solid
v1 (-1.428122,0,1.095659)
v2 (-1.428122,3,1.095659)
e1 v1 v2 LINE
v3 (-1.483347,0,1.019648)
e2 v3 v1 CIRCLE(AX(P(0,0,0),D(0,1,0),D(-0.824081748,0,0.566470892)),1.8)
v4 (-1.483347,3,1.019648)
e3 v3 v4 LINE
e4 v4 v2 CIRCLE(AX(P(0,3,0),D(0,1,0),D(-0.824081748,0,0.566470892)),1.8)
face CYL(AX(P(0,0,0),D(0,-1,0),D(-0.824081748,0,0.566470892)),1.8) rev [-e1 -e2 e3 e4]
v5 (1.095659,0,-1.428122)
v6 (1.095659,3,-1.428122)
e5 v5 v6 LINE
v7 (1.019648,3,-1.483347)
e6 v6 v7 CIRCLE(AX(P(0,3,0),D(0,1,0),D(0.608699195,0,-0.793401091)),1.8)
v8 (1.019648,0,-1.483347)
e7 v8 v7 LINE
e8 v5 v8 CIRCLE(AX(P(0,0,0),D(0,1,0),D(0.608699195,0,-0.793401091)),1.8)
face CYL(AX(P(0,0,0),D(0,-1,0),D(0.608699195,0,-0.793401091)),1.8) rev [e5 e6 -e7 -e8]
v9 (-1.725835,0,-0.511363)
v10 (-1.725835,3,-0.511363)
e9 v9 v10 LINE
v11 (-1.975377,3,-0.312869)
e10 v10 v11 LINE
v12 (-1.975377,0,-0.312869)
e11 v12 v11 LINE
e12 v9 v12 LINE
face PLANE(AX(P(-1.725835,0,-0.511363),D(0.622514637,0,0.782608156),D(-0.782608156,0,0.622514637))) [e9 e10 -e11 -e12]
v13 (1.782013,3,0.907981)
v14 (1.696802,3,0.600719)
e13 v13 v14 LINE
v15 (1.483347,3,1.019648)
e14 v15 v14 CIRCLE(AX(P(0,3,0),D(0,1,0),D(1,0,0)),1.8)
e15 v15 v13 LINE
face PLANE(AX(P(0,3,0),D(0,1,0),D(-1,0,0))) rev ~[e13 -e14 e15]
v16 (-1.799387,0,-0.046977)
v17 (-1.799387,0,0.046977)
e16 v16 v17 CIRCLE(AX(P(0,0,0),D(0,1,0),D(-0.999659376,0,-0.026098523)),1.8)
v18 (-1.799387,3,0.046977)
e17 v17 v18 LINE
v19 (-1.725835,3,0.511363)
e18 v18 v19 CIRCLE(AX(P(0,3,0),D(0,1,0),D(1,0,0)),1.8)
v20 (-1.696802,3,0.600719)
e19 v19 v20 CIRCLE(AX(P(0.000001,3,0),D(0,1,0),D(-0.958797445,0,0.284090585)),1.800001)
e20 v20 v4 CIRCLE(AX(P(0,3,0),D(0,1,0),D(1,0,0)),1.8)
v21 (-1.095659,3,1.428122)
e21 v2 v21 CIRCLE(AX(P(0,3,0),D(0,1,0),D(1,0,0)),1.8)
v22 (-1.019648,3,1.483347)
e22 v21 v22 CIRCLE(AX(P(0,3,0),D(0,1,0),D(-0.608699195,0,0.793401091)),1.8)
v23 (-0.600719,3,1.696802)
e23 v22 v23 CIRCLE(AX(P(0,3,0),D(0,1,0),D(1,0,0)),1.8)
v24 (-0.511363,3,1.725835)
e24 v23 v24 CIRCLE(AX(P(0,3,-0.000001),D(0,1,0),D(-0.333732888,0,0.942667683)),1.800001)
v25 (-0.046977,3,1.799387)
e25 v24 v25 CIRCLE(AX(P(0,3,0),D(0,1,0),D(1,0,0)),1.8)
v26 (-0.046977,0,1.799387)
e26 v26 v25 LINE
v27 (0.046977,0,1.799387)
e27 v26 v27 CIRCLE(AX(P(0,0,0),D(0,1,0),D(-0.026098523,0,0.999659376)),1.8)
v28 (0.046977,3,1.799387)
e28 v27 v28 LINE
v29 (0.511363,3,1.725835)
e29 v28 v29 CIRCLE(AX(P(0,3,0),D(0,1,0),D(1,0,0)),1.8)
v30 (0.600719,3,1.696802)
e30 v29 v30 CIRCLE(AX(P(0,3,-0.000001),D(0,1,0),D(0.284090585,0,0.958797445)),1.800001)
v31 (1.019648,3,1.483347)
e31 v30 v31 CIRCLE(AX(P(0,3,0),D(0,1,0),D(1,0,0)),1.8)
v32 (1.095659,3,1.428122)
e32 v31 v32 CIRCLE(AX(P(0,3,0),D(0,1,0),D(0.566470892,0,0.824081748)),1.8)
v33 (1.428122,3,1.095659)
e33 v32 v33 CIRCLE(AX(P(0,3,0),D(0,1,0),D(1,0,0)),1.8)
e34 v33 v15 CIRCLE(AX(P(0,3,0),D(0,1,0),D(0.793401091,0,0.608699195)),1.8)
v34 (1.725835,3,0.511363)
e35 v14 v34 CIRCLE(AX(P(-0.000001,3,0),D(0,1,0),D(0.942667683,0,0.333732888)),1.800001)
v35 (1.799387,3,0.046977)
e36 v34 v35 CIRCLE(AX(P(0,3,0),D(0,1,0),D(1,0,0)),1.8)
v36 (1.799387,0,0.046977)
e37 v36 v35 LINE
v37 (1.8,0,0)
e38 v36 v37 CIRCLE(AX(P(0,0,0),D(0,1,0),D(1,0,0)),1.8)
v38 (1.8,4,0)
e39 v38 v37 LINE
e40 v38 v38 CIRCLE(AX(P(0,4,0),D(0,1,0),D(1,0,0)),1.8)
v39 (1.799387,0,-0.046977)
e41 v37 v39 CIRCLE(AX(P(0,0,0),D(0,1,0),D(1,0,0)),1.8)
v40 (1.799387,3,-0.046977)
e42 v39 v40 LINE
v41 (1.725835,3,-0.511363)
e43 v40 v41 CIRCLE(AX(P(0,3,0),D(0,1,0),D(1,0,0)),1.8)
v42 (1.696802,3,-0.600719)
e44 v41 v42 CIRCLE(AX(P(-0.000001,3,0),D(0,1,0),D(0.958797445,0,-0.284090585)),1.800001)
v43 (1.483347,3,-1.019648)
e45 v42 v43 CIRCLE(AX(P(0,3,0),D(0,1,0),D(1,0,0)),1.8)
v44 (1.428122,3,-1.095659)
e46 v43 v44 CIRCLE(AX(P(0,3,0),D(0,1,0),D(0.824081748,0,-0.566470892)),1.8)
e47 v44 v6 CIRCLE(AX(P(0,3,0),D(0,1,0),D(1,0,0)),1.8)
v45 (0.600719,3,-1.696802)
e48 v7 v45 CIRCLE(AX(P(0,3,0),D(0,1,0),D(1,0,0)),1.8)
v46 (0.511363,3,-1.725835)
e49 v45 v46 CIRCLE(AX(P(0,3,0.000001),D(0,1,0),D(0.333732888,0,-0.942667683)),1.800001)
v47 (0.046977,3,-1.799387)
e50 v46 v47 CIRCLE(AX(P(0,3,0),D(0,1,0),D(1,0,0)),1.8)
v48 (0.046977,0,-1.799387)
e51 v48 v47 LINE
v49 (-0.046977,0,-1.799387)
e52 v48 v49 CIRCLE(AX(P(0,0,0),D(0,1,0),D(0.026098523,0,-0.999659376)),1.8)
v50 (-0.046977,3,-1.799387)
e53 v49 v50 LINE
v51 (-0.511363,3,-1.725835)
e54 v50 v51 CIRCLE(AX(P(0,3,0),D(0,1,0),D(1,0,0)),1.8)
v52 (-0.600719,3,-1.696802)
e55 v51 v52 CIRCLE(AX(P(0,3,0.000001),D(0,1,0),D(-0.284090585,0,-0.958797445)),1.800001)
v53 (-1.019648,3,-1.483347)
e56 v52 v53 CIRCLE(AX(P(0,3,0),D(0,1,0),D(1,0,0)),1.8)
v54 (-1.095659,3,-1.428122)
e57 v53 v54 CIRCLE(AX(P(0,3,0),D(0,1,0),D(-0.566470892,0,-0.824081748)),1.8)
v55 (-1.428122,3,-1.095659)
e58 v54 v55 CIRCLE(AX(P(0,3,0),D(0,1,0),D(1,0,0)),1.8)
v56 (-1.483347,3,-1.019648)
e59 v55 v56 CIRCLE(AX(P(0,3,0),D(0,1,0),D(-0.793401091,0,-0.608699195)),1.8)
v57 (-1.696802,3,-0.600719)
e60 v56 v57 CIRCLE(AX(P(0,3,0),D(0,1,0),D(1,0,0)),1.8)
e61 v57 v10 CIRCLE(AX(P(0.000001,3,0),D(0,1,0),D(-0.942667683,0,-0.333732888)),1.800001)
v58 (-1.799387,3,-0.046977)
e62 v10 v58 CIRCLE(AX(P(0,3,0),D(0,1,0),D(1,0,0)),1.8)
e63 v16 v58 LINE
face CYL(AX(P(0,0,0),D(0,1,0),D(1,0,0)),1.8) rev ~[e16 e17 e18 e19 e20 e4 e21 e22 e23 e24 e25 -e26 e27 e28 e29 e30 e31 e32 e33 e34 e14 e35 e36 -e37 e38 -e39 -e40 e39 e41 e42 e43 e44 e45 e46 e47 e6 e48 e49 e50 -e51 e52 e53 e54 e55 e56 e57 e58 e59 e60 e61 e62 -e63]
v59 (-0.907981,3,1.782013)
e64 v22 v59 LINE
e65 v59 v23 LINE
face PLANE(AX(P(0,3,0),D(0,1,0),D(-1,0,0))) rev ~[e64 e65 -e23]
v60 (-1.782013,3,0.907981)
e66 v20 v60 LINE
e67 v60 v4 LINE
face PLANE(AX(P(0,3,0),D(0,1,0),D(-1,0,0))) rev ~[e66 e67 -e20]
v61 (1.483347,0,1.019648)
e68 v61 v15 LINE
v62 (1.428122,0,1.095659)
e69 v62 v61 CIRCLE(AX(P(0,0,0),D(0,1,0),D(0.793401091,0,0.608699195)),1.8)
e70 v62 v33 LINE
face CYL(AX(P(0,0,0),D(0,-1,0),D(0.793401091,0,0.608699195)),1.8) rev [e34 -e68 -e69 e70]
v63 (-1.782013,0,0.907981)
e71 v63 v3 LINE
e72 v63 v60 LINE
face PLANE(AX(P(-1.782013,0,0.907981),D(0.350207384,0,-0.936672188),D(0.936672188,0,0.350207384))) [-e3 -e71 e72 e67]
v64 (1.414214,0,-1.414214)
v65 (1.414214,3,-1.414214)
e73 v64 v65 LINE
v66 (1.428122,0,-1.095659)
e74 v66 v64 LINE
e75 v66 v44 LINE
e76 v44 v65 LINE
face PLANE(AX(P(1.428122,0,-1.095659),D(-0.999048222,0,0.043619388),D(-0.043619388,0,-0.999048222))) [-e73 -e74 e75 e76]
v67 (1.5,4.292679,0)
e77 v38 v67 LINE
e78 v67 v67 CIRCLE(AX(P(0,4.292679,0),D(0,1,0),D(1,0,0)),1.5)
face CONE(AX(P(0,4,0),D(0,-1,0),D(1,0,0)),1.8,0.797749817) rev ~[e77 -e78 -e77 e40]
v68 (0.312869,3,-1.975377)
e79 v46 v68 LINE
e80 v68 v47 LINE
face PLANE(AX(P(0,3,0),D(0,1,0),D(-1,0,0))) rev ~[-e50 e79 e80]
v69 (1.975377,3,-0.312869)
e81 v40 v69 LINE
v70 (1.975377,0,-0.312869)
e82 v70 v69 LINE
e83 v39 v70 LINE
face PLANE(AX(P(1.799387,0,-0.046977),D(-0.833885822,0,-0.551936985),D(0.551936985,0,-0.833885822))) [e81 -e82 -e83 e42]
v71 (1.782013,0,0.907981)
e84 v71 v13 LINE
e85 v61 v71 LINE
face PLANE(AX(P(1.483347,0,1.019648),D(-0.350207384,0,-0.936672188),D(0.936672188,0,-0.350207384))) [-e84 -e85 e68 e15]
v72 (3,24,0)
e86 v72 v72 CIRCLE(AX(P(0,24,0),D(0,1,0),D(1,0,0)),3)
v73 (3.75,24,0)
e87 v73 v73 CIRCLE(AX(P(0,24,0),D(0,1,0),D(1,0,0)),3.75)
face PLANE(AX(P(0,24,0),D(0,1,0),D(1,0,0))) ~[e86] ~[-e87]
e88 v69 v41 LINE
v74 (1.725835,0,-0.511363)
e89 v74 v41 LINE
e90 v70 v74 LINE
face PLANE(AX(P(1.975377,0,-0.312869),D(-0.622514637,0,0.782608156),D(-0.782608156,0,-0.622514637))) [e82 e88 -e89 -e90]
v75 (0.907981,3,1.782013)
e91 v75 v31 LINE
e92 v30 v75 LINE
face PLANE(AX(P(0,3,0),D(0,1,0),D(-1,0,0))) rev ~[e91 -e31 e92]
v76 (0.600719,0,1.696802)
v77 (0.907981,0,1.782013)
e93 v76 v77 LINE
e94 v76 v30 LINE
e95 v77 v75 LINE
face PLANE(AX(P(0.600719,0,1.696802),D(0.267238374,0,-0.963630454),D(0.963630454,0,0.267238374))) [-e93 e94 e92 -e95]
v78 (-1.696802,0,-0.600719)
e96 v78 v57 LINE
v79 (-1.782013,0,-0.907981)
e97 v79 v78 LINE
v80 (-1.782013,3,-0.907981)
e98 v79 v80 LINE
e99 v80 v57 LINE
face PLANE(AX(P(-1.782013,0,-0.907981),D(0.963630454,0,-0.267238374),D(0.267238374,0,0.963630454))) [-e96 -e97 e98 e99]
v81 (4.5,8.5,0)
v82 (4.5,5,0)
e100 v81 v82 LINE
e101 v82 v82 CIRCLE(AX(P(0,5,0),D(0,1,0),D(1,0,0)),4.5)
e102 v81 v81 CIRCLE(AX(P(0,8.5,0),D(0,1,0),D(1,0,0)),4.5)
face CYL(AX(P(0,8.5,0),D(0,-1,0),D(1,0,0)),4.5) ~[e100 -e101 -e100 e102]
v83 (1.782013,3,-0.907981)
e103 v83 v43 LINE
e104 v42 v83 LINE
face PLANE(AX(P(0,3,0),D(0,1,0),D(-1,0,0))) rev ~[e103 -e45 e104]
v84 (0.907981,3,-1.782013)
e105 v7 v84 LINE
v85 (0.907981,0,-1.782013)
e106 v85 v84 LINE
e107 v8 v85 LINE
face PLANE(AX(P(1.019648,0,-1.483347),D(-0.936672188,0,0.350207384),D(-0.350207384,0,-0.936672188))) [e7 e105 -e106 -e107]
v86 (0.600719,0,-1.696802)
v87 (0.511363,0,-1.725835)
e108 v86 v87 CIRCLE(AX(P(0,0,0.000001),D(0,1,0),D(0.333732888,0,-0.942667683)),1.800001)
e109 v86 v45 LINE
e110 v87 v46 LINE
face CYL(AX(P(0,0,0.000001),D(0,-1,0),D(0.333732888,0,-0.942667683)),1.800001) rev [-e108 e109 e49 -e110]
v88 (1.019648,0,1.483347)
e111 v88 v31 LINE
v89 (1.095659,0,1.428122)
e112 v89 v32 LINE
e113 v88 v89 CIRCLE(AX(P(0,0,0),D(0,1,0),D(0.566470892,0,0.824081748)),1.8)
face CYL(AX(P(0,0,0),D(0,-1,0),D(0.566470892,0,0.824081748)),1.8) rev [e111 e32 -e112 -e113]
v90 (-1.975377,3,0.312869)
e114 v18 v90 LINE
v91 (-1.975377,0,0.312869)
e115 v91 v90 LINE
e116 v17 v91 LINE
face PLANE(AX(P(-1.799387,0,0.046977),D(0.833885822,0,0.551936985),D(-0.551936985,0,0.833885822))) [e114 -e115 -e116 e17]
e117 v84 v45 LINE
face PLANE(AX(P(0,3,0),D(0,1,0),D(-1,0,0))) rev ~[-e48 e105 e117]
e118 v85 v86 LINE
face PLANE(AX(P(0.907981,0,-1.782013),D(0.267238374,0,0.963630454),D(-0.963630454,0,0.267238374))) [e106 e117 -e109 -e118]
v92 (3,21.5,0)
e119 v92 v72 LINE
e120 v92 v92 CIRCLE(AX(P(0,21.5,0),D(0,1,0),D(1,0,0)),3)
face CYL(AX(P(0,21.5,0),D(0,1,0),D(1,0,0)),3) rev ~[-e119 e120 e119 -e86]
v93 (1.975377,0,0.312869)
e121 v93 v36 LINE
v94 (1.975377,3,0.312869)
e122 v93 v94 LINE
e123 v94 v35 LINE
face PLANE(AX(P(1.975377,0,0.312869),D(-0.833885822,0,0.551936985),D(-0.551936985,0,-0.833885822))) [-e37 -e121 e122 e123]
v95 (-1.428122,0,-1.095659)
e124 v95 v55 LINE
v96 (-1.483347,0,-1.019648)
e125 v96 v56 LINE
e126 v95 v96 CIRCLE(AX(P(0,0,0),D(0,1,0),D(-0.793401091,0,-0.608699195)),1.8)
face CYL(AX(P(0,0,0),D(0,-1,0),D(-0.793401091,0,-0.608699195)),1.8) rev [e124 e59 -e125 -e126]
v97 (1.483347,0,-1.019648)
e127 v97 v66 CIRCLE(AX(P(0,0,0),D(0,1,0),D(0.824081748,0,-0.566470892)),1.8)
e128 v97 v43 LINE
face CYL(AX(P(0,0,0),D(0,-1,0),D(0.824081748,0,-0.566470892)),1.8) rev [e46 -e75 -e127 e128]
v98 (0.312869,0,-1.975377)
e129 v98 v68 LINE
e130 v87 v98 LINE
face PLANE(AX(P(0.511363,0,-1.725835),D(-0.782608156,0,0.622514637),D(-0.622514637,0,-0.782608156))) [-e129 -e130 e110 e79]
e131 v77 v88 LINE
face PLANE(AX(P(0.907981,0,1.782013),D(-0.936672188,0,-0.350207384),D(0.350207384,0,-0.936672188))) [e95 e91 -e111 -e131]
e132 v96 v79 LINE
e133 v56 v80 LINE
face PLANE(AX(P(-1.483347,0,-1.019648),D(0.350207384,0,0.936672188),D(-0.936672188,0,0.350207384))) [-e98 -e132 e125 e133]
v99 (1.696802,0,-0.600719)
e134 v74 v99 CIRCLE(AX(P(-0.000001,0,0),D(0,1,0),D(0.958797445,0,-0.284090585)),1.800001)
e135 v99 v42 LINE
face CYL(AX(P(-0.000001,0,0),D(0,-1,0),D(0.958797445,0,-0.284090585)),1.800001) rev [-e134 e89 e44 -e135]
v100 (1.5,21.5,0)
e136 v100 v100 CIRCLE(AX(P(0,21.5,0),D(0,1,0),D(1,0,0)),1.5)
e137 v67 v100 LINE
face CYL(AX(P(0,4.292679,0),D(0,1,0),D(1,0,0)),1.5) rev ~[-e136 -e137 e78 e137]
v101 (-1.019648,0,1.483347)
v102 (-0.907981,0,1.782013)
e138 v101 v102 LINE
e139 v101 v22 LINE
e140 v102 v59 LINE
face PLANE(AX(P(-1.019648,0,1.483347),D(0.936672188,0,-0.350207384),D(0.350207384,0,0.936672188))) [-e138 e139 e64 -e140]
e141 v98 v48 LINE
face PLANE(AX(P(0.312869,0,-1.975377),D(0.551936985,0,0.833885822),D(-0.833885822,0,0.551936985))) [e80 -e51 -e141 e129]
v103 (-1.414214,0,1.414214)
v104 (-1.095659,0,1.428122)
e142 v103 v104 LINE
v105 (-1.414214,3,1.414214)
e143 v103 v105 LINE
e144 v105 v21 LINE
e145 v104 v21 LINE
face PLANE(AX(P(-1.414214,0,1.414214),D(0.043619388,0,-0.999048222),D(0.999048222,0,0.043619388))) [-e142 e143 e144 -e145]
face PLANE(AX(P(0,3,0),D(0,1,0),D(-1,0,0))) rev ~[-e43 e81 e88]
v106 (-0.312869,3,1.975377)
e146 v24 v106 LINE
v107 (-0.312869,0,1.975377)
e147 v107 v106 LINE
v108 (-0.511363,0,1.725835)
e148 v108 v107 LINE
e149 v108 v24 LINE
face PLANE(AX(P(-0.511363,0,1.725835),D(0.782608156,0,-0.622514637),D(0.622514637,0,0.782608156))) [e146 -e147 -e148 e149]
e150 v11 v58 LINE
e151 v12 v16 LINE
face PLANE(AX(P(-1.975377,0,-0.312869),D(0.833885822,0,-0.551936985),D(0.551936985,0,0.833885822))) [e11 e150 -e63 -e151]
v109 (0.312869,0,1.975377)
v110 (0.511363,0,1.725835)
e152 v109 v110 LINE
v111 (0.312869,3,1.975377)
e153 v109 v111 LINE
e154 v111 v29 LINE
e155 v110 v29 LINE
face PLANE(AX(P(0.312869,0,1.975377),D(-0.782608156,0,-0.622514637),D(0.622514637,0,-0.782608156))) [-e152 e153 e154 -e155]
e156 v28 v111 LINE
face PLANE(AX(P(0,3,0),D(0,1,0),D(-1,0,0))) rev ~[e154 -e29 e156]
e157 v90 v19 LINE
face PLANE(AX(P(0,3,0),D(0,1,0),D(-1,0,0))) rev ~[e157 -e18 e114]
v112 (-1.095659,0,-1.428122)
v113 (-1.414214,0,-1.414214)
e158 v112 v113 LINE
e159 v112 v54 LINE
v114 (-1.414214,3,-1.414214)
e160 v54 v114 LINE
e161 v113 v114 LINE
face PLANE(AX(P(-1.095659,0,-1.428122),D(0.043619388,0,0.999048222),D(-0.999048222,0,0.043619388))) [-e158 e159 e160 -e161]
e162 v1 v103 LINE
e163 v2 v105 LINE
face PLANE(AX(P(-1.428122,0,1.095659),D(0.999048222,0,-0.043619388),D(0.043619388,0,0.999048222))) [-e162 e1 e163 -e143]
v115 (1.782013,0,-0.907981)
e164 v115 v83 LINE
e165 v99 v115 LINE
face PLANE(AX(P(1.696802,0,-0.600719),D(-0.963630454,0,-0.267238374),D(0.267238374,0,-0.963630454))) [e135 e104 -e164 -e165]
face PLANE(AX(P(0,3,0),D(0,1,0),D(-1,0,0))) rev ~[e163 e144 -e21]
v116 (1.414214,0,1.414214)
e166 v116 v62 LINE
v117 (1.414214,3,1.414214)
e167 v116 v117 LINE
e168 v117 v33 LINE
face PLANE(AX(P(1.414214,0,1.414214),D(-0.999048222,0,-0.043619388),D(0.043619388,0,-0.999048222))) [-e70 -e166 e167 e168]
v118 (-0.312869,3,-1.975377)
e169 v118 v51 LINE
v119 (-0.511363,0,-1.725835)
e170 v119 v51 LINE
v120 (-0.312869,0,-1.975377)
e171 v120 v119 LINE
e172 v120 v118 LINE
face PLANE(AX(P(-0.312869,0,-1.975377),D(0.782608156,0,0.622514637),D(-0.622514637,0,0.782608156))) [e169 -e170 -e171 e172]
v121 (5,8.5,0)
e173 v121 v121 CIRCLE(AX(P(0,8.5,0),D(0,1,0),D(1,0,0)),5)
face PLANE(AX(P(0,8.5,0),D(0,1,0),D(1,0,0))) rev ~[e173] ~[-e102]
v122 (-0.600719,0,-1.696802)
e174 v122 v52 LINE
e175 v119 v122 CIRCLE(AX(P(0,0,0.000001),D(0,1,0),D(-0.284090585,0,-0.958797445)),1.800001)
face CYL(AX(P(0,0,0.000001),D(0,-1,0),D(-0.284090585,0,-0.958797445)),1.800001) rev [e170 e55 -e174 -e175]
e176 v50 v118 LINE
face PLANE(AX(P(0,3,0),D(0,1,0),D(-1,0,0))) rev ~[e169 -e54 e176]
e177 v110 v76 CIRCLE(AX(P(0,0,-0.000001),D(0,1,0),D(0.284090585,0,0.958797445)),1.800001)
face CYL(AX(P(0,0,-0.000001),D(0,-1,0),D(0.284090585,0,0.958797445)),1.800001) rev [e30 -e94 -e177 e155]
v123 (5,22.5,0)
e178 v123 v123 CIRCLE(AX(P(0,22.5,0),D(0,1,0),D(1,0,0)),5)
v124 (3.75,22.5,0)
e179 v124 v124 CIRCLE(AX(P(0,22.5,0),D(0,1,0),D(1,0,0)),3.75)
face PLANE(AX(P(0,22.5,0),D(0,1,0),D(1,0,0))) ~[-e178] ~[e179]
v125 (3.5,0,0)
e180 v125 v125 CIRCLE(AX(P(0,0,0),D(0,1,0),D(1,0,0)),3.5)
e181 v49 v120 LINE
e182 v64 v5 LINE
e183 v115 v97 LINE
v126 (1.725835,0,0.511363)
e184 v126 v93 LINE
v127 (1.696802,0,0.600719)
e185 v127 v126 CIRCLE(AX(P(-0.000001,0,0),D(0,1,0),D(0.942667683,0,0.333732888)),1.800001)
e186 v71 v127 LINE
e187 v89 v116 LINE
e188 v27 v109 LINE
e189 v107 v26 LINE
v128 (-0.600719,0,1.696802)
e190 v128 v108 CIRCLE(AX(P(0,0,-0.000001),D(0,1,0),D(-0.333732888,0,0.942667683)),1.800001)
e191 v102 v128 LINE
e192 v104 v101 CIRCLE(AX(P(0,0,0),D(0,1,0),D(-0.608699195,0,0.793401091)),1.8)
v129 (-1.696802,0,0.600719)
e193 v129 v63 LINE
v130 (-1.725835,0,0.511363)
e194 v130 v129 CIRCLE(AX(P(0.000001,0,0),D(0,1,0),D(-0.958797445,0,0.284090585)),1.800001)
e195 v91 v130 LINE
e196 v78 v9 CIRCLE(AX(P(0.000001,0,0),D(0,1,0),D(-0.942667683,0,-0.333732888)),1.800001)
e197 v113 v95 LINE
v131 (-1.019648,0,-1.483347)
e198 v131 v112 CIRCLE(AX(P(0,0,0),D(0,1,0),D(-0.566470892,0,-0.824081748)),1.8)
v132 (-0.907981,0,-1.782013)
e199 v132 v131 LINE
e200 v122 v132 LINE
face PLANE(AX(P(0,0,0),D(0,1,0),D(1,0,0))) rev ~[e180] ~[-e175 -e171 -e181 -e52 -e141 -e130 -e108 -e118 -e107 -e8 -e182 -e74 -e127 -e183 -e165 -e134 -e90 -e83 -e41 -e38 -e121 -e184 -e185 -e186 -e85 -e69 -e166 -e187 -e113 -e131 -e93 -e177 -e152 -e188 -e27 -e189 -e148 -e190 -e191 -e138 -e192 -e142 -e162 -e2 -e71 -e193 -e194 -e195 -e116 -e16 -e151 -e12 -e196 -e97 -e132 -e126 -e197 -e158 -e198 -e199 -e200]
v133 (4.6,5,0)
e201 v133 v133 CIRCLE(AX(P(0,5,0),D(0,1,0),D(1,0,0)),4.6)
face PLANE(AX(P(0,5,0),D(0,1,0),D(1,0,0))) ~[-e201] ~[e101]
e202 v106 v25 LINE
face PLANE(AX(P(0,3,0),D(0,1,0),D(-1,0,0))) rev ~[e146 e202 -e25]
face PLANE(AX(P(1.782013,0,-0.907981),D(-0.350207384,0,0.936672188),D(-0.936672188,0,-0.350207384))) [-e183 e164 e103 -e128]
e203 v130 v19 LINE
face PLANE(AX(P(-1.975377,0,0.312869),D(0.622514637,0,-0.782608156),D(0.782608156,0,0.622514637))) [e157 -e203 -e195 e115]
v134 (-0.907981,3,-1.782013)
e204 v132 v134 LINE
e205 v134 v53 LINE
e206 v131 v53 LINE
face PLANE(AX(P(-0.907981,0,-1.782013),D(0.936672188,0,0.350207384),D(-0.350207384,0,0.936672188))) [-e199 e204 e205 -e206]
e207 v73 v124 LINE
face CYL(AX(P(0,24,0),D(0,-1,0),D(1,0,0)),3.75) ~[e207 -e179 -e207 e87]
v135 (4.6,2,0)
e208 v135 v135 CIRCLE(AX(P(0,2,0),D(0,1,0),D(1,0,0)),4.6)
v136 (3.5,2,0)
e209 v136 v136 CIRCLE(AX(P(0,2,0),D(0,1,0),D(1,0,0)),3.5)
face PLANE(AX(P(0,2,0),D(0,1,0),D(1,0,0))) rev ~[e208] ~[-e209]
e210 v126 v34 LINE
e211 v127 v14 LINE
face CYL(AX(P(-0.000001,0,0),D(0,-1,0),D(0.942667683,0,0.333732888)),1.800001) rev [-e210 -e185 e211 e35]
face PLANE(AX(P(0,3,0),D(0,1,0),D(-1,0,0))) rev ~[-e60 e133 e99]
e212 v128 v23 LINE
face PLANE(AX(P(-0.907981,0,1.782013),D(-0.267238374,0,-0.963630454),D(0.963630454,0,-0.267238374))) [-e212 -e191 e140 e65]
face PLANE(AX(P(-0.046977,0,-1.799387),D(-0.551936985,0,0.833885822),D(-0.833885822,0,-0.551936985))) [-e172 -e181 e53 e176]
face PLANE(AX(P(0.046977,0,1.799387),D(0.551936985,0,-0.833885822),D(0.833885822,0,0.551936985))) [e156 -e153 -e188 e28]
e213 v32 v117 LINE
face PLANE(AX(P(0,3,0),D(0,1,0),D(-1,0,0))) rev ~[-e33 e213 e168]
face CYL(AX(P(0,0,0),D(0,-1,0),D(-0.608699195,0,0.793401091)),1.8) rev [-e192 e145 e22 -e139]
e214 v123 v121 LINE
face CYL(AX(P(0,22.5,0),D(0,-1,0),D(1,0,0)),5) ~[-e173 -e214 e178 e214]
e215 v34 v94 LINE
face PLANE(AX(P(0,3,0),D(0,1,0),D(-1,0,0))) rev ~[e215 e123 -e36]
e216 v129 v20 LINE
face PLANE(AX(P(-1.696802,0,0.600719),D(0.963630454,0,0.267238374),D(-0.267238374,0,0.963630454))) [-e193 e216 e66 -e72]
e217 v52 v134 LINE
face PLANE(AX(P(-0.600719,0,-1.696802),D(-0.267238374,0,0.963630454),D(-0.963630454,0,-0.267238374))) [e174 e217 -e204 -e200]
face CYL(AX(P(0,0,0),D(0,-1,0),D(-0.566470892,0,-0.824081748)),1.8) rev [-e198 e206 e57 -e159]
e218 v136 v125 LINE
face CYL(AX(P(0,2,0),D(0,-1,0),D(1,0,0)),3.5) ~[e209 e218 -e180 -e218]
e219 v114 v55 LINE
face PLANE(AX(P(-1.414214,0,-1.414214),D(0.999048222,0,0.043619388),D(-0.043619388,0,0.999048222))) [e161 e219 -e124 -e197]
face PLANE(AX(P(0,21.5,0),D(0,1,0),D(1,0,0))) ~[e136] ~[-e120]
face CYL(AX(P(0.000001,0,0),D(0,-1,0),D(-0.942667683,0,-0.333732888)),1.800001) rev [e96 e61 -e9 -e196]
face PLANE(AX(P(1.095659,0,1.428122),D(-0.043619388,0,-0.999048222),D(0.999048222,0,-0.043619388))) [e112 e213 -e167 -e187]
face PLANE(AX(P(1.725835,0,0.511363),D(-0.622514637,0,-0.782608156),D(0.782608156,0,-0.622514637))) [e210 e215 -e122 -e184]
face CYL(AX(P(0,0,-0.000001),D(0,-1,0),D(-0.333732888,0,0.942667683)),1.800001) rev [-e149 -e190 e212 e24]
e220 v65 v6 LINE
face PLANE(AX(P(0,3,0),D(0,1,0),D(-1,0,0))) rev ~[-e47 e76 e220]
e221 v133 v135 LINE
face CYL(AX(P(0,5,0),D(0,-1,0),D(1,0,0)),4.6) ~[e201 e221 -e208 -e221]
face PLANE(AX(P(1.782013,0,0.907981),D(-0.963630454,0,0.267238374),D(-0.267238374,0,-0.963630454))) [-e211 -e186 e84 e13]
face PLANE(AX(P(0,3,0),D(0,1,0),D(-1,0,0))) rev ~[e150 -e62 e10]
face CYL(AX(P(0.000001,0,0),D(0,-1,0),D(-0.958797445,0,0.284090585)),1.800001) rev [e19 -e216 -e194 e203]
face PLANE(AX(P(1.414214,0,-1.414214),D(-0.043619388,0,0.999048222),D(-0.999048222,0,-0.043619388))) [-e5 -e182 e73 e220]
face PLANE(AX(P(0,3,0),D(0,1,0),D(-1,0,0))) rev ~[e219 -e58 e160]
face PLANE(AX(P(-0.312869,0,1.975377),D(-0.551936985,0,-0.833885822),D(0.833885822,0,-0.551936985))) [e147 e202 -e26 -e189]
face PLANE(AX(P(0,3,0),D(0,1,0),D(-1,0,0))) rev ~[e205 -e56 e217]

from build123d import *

# Parameters (mm, degrees)
CUT_EXTRUDE_1_DEPTH = 3


with BuildPart() as part:
    # Эскиз1 → Повернуть1 (revolve)
    with BuildSketch(Plane.XY):
        Polygon((3.5, 0), (1.8, 0), (1.8, 4), (1.5, 4.292679061), (1.5, 21.5), (3, 21.5), (3, 24), (3.75, 24), (3.75, 22.5), (5, 22.5), (5, 8.5), (4.5, 8.5), (4.5, 5), (4.6, 5), (4.6, 2), (3.5, 2), align=None)
    revolve(axis=Axis((0, 0, 0), (0, 1, 0)))

    # Эскиз3 → Вырез-Вытянуть1 (cut)
    with BuildSketch(Plane.XZ):
        with BuildLine():
            Line((0.046977339, 1.799386876), (0.31286893, 1.975376681))
            Line((0.31286893, 1.975376681), (0.51136302, 1.72583541))
            ThreePointArc((0.51136302, 1.72583541), (0.55623059, 1.711901729), (0.600719228, 1.696801818))
            Line((0.600719228, 1.696801818), (0.907980999, 1.782013048))
            Line((0.907980999, 1.782013048), (1.019647604, 1.483347149))
            ThreePointArc((1.019647604, 1.483347149), (1.058013454, 1.45623059), (1.095658534, 1.428121975))
            Line((1.095658534, 1.428121975), (1.414213562, 1.414213562))
            Line((1.414213562, 1.414213562), (1.428121975, 1.095658534))
            ThreePointArc((1.428121975, 1.095658534), (1.45623059, 1.058013454), (1.483347149, 1.019647604))
            Line((1.483347149, 1.019647604), (1.782013048, 0.907980999))
            Line((1.782013048, 0.907980999), (1.696801818, 0.600719228))
            ThreePointArc((1.696801818, 0.600719228), (1.711901729, 0.55623059), (1.72583541, 0.51136302))
            Line((1.72583541, 0.51136302), (1.975376681, 0.31286893))
            Line((1.975376681, 0.31286893), (1.799386876, 0.046977339))
            ThreePointArc((1.799386876, 0.046977339), (1.8, 0), (1.799386876, -0.046977339))
            Line((1.799386876, -0.046977339), (1.975376681, -0.31286893))
            Line((1.975376681, -0.31286893), (1.72583541, -0.51136302))
            ThreePointArc((1.72583541, -0.51136302), (1.711901729, -0.55623059), (1.696801818, -0.600719228))
            Line((1.696801818, -0.600719228), (1.782013048, -0.907980999))
            Line((1.782013048, -0.907980999), (1.483347149, -1.019647604))
            ThreePointArc((1.483347149, -1.019647604), (1.45623059, -1.058013454), (1.428121975, -1.095658534))
            Line((1.428121975, -1.095658534), (1.414213562, -1.414213562))
            Line((1.414213562, -1.414213562), (1.095658534, -1.428121975))
            ThreePointArc((1.095658534, -1.428121975), (1.058013454, -1.45623059), (1.019647604, -1.483347149))
            Line((1.019647604, -1.483347149), (0.907980999, -1.782013048))
            Line((0.907980999, -1.782013048), (0.600719228, -1.696801818))
            ThreePointArc((0.600719228, -1.696801818), (0.55623059, -1.711901729), (0.51136302, -1.72583541))
            Line((0.51136302, -1.72583541), (0.31286893, -1.975376681))
            Line((0.31286893, -1.975376681), (0.046977339, -1.799386876))
            ThreePointArc((0.046977339, -1.799386876), (0, -1.8), (-0.046977339, -1.799386876))
            Line((-0.046977339, -1.799386876), (-0.31286893, -1.975376681))
            Line((-0.31286893, -1.975376681), (-0.51136302, -1.72583541))
            ThreePointArc((-0.51136302, -1.72583541), (-0.55623059, -1.711901729), (-0.600719228, -1.696801818))
            Line((-0.600719228, -1.696801818), (-0.907980999, -1.782013048))
            Line((-0.907980999, -1.782013048), (-1.019647604, -1.483347149))
            ThreePointArc((-1.019647604, -1.483347149), (-1.058013454, -1.45623059), (-1.095658534, -1.428121975))
            Line((-1.095658534, -1.428121975), (-1.414213562, -1.414213562))
            Line((-1.414213562, -1.414213562), (-1.428121975, -1.095658534))
            ThreePointArc((-1.428121975, -1.095658534), (-1.45623059, -1.058013454), (-1.483347149, -1.019647604))
            Line((-1.483347149, -1.019647604), (-1.782013048, -0.907980999))
            Line((-1.782013048, -0.907980999), (-1.696801818, -0.600719228))
            ThreePointArc((-1.696801818, -0.600719228), (-1.711901729, -0.55623059), (-1.72583541, -0.51136302))
            Line((-1.72583541, -0.51136302), (-1.975376681, -0.31286893))
            Line((-1.975376681, -0.31286893), (-1.799386876, -0.046977339))
            ThreePointArc((-1.799386876, -0.046977339), (-1.8, 0), (-1.799386876, 0.046977339))
            Line((-1.799386876, 0.046977339), (-1.975376681, 0.31286893))
            Line((-1.975376681, 0.31286893), (-1.72583541, 0.51136302))
            ThreePointArc((-1.72583541, 0.51136302), (-1.711901729, 0.55623059), (-1.696801818, 0.600719228))
            Line((-1.696801818, 0.600719228), (-1.782013048, 0.907980999))
            Line((-1.782013048, 0.907980999), (-1.483347149, 1.019647604))
            ThreePointArc((-1.483347149, 1.019647604), (-1.45623059, 1.058013454), (-1.428121975, 1.095658534))
            Line((-1.428121975, 1.095658534), (-1.414213562, 1.414213562))
            Line((-1.414213562, 1.414213562), (-1.095658534, 1.428121975))
            ThreePointArc((-1.095658534, 1.428121975), (-1.058013454, 1.45623059), (-1.019647604, 1.483347149))
            Line((-1.019647604, 1.483347149), (-0.907980999, 1.782013048))
            Line((-0.907980999, 1.782013048), (-0.600719228, 1.696801818))
            ThreePointArc((-0.600719228, 1.696801818), (-0.55623059, 1.711901729), (-0.51136302, 1.72583541))
            Line((-0.51136302, 1.72583541), (-0.31286893, 1.975376681))
            Line((-0.31286893, 1.975376681), (-0.046977339, 1.799386876))
            ThreePointArc((-0.046977339, 1.799386876), (0, 1.8), (0.046977339, 1.799386876))
        make_face()
    extrude(amount=-CUT_EXTRUDE_1_DEPTH, mode=Mode.SUBTRACT)


solid = part.part
